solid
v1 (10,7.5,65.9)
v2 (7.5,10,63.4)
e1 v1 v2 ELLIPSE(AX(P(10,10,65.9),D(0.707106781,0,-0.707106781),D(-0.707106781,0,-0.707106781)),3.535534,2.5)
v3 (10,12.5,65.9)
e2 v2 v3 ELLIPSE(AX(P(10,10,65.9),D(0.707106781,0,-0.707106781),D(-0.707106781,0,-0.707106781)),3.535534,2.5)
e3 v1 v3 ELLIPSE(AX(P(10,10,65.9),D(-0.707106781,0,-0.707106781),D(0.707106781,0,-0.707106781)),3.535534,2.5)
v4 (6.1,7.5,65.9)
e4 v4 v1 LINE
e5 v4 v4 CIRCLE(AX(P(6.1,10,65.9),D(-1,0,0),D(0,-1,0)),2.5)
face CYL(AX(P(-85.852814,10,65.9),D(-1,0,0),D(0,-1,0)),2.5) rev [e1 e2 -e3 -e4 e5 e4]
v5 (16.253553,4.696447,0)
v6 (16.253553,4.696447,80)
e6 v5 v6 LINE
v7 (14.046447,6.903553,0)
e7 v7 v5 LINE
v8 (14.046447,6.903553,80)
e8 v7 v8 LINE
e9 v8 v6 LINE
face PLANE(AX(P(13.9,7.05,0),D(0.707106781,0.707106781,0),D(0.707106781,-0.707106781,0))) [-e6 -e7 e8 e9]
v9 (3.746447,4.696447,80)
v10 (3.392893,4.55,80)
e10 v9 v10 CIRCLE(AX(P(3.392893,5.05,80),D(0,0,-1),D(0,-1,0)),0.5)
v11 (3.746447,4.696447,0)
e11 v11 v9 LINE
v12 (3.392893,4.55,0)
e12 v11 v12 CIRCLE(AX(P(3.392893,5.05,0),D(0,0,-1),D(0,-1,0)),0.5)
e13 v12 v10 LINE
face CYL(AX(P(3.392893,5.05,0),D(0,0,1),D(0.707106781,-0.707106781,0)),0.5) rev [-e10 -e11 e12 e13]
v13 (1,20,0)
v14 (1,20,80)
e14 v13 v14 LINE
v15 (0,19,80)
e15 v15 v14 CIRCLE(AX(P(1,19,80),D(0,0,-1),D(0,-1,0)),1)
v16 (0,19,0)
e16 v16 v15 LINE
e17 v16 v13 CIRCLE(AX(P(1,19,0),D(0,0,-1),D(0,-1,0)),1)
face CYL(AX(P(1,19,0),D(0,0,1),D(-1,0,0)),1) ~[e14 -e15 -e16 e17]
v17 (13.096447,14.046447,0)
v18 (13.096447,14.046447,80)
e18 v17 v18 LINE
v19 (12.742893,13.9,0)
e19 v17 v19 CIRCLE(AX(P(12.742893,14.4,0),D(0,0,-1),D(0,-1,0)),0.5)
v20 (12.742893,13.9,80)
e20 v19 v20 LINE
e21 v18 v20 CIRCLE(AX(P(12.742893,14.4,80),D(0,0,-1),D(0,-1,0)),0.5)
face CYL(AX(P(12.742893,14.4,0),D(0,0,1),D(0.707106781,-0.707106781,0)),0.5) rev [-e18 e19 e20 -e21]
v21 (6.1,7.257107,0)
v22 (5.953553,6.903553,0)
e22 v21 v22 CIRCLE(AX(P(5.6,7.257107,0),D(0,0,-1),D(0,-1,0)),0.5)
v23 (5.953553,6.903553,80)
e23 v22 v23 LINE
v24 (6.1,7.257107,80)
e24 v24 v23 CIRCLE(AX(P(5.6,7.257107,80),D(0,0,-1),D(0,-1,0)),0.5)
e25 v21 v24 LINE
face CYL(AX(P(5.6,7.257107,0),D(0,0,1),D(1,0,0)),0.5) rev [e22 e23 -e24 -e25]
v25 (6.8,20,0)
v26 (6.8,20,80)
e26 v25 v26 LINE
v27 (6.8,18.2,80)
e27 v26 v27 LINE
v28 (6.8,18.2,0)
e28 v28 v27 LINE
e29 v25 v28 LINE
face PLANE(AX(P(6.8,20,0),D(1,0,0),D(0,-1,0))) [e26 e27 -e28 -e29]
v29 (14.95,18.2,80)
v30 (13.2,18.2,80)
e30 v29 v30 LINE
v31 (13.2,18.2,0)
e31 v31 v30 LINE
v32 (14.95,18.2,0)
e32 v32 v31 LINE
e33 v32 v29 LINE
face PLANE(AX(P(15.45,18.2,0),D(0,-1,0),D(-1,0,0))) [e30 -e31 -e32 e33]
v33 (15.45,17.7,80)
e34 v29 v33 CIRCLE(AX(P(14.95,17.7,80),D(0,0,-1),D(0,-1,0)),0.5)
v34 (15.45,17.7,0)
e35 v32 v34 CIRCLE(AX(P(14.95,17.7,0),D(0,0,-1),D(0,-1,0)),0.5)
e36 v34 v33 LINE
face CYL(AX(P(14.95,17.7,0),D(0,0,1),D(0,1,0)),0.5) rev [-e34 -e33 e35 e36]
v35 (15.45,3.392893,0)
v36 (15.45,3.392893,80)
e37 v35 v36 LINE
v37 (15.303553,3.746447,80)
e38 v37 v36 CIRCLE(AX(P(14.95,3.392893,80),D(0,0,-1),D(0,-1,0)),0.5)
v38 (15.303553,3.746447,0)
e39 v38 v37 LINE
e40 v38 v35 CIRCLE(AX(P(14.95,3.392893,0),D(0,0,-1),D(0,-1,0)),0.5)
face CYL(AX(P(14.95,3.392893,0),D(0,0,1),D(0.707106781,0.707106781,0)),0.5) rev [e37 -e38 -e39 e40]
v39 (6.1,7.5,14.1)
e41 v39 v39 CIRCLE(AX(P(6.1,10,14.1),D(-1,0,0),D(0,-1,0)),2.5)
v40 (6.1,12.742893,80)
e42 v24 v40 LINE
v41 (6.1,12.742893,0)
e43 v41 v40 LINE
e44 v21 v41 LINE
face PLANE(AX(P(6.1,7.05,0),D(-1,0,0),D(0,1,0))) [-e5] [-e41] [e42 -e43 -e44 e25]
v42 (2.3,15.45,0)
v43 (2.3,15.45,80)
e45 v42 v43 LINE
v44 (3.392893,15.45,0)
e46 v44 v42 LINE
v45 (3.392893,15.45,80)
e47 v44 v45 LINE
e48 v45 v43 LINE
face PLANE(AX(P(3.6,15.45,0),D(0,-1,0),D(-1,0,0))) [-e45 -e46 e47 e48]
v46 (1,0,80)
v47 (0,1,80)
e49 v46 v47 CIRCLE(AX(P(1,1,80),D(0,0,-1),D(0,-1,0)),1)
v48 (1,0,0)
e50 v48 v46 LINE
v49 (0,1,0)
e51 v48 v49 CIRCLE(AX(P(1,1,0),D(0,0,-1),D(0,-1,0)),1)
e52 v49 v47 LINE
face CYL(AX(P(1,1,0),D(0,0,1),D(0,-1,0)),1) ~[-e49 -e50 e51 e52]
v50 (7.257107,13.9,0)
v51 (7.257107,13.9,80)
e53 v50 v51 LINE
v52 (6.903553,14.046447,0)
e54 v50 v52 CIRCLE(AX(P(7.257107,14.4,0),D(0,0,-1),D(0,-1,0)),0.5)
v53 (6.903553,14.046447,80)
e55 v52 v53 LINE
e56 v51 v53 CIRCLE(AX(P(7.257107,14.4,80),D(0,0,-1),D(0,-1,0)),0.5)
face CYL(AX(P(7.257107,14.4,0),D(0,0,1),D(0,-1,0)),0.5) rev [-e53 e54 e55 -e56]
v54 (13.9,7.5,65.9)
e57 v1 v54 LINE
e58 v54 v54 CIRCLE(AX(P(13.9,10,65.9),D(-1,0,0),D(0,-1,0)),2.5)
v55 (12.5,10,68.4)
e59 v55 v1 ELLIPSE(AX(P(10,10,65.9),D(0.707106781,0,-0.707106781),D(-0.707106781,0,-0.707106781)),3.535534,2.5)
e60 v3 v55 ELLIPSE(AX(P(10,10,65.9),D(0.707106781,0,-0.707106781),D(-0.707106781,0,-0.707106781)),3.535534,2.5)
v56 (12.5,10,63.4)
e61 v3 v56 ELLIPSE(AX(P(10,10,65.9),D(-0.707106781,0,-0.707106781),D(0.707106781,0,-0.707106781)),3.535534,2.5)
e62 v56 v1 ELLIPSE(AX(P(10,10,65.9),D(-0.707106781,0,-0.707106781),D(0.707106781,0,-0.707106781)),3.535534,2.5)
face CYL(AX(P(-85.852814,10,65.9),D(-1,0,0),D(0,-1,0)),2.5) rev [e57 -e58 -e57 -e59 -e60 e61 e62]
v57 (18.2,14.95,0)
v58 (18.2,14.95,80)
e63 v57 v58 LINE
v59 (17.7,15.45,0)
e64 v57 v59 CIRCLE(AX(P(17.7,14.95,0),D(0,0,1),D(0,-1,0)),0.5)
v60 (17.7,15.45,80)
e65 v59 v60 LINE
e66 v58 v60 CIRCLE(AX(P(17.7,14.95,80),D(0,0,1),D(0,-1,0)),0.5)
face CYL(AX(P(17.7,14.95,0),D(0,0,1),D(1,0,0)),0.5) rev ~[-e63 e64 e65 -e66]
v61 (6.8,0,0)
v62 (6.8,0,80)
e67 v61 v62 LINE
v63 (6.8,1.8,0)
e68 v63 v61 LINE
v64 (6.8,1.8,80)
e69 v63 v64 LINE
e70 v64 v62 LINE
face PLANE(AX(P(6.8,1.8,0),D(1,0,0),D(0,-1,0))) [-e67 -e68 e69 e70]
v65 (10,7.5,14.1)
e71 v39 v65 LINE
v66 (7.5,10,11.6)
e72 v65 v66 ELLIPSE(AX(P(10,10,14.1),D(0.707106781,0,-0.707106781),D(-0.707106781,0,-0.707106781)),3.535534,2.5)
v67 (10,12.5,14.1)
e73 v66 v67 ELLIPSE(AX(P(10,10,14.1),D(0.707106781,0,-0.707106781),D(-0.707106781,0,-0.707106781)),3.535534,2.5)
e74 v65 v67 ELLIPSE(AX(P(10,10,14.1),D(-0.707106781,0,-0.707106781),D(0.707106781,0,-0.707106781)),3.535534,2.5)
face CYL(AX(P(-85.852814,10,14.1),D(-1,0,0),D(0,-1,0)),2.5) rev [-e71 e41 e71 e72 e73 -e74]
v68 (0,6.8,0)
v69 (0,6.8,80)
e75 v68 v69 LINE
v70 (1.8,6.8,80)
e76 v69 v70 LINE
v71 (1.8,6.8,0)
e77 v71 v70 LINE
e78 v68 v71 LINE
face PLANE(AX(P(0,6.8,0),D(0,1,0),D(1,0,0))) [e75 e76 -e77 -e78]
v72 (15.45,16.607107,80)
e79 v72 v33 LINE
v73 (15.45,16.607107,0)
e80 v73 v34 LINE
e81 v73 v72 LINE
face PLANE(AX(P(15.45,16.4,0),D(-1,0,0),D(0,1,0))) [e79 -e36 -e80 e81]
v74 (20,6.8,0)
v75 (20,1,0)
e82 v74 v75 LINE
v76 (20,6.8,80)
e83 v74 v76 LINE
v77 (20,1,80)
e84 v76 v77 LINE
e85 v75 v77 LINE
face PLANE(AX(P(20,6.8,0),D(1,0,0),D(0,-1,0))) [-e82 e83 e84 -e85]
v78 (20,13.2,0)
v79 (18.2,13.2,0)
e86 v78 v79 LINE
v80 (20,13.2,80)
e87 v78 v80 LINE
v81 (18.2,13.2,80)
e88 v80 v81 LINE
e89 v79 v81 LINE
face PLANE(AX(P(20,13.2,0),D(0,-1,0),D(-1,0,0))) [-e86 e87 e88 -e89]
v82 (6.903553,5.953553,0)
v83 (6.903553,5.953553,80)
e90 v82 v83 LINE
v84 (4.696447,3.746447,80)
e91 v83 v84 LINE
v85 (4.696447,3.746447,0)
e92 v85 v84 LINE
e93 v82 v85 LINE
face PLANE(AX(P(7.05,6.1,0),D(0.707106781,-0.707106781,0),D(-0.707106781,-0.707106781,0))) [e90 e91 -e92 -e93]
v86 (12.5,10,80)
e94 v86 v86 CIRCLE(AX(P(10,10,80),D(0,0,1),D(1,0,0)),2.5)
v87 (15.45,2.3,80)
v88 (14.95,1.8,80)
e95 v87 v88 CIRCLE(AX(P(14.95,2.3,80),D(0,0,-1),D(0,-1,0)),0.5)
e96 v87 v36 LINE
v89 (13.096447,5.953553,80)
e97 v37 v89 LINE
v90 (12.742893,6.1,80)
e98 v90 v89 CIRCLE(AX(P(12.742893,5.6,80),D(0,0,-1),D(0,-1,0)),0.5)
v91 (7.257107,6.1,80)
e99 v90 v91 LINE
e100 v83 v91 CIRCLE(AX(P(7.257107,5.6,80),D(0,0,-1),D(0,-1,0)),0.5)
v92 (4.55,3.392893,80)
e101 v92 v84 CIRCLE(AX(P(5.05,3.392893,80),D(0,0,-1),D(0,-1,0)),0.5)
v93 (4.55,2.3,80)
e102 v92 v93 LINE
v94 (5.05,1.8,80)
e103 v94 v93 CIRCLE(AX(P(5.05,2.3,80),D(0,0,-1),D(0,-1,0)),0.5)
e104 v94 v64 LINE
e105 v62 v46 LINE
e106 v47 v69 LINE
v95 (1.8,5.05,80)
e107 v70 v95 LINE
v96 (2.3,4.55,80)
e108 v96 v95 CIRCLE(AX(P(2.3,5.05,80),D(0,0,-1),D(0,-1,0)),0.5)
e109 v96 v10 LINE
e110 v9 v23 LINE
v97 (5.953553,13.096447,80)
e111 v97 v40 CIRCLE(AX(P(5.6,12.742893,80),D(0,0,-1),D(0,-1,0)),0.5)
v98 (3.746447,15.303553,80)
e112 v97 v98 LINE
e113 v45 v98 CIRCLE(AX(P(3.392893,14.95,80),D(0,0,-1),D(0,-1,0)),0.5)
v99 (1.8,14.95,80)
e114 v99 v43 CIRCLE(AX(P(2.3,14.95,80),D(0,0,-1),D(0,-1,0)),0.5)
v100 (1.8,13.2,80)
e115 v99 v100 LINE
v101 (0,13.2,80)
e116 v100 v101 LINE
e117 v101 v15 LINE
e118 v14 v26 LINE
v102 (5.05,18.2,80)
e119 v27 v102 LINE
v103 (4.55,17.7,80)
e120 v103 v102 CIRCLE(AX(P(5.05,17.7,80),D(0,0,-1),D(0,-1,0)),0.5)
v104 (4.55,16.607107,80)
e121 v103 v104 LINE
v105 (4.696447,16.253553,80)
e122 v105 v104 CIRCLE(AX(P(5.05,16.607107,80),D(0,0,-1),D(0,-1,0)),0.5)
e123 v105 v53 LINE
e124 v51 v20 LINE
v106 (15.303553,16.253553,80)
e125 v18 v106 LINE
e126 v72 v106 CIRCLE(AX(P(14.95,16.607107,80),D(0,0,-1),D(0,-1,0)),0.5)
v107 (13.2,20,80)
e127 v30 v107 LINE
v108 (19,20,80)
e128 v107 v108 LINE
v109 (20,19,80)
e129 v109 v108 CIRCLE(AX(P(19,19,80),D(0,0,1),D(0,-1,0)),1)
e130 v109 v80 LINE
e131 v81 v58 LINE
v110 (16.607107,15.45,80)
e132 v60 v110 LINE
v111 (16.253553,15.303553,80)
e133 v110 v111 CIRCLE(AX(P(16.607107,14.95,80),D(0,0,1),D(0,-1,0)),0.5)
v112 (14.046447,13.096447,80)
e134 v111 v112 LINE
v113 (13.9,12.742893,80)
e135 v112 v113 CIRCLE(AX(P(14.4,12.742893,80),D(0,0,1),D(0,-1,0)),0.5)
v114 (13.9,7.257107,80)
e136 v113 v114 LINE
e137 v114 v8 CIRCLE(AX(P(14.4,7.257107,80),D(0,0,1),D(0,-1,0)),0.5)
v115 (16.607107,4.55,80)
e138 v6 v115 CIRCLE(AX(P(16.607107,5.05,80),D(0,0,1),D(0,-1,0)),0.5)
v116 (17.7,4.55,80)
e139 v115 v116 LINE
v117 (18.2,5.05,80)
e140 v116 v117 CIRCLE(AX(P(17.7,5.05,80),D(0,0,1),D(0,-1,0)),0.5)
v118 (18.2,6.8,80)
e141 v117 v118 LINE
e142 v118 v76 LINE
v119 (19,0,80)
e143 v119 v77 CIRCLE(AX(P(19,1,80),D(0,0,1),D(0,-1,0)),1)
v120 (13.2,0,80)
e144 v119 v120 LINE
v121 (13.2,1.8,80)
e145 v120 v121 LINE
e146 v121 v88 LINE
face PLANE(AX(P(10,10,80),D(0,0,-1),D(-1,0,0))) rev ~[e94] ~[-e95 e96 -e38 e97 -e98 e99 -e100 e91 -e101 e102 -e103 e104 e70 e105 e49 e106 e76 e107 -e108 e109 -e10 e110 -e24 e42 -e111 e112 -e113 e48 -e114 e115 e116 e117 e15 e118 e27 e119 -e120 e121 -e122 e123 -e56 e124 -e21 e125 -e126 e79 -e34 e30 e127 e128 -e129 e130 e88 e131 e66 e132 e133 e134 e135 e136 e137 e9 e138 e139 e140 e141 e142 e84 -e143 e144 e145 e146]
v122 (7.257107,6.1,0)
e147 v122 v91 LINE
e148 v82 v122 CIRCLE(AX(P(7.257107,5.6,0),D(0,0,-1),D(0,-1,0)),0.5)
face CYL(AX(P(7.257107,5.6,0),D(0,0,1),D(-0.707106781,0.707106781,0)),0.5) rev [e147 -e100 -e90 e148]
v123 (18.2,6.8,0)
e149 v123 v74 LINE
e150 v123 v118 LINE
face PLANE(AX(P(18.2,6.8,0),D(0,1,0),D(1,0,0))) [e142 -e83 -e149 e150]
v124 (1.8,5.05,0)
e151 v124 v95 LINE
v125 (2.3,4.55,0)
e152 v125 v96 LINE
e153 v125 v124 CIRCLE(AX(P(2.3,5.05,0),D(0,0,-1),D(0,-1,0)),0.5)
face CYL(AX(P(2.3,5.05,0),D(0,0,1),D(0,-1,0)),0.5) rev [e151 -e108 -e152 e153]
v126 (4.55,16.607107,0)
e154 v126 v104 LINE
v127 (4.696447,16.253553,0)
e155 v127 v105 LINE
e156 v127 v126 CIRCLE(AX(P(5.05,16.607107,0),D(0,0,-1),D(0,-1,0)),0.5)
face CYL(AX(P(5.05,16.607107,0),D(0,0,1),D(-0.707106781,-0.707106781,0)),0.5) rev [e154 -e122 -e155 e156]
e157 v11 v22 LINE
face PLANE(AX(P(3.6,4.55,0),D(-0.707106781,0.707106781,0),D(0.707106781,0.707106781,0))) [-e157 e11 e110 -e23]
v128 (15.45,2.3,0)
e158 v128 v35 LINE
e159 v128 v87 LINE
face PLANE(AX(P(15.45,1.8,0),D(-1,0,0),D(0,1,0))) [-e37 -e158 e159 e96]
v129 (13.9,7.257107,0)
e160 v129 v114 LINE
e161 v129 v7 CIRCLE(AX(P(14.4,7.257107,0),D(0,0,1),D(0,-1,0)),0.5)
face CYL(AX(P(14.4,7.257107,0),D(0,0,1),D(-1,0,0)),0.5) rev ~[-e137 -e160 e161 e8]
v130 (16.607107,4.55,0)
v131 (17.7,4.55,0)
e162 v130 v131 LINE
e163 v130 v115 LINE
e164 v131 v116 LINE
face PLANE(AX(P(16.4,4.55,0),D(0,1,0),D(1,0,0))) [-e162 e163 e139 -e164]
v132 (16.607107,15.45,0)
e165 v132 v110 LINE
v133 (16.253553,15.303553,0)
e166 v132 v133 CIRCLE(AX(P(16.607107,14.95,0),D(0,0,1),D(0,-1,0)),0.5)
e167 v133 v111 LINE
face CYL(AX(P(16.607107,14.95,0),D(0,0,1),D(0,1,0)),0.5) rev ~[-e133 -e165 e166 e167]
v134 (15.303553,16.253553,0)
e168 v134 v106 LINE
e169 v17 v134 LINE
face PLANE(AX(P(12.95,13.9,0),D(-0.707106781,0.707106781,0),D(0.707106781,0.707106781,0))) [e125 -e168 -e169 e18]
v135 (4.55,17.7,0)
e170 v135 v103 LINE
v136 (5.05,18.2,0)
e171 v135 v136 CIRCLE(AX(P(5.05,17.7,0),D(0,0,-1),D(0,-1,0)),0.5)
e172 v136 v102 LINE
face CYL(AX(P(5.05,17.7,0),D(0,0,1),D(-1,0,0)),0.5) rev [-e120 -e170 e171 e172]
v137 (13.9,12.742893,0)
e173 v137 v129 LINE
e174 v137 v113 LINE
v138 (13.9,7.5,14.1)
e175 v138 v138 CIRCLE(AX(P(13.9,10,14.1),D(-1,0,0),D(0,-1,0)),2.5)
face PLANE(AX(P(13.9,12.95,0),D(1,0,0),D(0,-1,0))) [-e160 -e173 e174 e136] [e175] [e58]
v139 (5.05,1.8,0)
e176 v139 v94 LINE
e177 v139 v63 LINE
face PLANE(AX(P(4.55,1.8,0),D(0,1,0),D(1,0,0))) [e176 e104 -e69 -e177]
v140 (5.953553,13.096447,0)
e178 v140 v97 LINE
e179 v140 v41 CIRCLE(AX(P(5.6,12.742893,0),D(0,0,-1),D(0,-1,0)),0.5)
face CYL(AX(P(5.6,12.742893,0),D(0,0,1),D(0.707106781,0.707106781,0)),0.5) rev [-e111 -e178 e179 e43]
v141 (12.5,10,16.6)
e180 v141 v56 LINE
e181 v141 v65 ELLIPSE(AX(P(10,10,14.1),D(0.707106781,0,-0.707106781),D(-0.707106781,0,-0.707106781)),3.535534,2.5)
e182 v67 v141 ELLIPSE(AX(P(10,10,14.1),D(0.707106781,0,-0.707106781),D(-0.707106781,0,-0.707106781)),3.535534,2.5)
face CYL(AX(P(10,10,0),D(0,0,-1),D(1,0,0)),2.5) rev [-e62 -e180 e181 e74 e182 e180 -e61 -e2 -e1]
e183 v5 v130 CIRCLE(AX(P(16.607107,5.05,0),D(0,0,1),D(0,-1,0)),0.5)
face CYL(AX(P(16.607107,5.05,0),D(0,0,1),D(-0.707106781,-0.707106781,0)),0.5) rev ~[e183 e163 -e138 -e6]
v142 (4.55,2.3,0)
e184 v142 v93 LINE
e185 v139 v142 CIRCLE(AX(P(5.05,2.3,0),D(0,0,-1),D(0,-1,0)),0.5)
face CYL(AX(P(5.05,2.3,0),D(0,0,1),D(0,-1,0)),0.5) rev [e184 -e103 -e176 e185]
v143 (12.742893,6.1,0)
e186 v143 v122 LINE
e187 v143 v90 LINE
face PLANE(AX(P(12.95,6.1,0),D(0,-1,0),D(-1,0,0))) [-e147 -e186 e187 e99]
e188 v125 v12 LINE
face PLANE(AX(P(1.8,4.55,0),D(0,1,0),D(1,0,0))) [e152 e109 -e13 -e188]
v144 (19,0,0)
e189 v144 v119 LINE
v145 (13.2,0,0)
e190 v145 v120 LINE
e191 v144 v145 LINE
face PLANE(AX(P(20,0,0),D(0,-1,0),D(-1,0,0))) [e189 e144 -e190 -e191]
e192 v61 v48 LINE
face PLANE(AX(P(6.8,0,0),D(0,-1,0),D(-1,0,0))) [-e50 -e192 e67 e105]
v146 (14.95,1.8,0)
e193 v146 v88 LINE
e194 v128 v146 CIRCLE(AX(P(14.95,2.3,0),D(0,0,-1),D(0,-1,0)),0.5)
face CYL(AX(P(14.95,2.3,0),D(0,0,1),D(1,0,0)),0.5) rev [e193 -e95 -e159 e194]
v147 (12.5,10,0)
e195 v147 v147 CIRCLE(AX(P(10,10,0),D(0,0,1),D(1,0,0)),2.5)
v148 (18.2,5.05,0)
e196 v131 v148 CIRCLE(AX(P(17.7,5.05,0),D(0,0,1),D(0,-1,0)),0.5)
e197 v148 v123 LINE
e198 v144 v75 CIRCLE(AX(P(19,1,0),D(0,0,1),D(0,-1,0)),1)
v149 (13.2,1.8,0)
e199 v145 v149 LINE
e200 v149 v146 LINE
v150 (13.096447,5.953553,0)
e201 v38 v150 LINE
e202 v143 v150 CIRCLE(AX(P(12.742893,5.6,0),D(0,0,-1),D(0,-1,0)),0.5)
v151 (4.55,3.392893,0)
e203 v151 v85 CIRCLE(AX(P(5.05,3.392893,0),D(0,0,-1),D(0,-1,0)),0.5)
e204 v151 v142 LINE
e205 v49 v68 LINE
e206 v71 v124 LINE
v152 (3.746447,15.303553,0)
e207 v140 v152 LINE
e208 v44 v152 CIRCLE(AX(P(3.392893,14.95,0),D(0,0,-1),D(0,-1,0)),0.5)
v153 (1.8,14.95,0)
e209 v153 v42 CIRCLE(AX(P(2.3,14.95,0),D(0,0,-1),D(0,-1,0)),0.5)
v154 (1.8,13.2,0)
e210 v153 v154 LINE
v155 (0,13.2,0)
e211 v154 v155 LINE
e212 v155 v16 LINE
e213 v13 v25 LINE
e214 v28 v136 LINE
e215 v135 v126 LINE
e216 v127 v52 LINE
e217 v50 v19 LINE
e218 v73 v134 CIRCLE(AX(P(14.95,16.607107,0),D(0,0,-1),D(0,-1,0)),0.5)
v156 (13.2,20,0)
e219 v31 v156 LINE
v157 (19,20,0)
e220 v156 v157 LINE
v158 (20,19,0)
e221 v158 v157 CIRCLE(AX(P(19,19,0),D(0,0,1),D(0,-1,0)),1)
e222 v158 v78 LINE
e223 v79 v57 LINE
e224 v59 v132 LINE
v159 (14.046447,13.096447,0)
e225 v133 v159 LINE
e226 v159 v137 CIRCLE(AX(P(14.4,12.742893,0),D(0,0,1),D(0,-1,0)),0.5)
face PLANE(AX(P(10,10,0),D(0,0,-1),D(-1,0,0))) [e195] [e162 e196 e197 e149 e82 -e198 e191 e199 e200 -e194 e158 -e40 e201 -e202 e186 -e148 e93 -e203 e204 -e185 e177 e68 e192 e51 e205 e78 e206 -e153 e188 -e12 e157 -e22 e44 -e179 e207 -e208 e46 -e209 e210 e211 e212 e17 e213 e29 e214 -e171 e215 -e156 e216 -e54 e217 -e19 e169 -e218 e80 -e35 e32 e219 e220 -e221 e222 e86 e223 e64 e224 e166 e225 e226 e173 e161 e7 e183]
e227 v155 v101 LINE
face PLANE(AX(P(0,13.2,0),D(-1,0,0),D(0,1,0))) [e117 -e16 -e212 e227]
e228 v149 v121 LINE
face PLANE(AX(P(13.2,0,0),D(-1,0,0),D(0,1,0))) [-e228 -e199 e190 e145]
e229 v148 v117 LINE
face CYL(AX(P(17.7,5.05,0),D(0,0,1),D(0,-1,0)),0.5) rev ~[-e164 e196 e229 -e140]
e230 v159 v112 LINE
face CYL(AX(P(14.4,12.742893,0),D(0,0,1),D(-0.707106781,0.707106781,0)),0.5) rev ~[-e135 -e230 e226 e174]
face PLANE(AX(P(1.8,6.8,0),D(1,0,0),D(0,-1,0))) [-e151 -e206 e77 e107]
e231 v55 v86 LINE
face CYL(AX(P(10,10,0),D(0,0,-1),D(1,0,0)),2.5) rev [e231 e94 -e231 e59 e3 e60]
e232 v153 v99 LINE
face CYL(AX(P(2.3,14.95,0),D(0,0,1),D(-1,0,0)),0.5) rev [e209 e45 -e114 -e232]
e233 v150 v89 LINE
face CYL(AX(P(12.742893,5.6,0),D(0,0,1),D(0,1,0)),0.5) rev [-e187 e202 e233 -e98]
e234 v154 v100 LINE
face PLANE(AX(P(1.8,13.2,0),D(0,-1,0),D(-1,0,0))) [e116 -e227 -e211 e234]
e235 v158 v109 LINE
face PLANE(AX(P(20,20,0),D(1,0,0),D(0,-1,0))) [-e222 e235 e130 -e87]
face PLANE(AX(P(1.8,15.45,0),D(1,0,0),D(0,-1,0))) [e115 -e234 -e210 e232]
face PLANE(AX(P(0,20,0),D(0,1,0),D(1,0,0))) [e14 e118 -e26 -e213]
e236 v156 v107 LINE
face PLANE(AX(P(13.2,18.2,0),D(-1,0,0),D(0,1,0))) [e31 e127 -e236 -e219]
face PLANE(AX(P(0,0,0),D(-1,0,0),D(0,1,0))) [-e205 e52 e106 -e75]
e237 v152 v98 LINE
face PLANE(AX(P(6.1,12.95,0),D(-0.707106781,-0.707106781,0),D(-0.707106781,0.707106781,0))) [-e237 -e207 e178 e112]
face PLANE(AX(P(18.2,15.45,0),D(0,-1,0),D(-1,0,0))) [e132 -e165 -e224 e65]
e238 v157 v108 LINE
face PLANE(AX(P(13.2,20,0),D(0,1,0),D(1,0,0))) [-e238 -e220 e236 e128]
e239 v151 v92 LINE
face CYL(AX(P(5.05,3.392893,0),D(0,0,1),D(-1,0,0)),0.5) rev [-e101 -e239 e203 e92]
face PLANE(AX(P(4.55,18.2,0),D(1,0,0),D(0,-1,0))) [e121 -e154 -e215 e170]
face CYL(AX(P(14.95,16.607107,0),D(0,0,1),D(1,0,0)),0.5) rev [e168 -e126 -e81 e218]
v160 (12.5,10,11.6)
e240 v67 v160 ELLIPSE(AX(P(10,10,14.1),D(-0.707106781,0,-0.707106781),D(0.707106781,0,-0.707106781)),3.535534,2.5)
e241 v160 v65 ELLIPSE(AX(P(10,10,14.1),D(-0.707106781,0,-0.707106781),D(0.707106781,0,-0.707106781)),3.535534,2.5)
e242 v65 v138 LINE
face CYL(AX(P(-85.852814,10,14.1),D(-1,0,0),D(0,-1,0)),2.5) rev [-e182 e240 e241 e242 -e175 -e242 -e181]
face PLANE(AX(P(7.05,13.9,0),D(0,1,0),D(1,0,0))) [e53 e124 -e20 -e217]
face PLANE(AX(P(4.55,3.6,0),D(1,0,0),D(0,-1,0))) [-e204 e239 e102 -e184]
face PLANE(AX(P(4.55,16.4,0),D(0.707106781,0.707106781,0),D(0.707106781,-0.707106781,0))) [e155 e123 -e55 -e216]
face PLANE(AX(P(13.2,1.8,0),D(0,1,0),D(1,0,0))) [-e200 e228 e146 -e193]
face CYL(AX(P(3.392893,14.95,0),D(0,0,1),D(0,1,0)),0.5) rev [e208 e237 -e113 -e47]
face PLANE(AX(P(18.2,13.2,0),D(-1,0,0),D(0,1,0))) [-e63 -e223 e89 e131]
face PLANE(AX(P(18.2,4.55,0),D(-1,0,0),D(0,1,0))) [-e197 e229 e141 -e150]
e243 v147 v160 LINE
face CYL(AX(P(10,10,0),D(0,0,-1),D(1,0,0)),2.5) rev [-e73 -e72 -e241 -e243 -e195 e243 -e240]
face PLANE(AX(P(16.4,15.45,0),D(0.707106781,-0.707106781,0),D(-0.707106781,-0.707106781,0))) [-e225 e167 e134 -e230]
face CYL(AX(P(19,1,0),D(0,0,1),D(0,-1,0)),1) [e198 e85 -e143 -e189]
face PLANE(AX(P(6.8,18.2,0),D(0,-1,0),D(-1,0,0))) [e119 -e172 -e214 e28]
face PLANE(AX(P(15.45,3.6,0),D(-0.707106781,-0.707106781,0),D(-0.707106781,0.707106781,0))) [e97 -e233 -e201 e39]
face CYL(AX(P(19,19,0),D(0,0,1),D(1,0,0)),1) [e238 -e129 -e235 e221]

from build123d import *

# Parameters (mm, degrees)
SKETCH1_R               = 2.5
BOSS_EXTRUDE1_DEPTH     = 80
FILLET1_R               = 1
FILLET2_R               = 0.5
FILLET3_R               = 0.5
FILLET4_R               = 0.5
FILLET5_R               = 0.5
CUT_EXTRUDE1_DEPTH      = 85.852813742
CUT_EXTRUDE1_DEPTH_BACK = 85.852813742
SKETCH2_R               = 2.5


with BuildPart() as part:
    # Sketch1 → Boss-Extrude1 (new body)
    with BuildSketch(Plane.XY):
        Polygon((13.2, 0), (13.2, 1.8), (15.45, 1.8), (15.45, 3.6), (12.95, 6.1), (7.05, 6.1), (4.55, 3.6), (4.55, 1.8), (6.8, 1.8), (6.8, 0), (0, 0), (0, 6.8), (1.8, 6.8), (1.8, 4.55), (3.6, 4.55), (6.1, 7.05), (6.1, 12.95), (3.6, 15.45), (1.8, 15.45), (1.8, 13.2), (0, 13.2), (0, 20), (6.8, 20), (6.8, 18.2), (4.55, 18.2), (4.55, 16.4), (7.05, 13.9), (12.95, 13.9), (15.45, 16.4), (15.45, 18.2), (13.2, 18.2), (13.2, 20), (20, 20), (20, 13.2), (18.2, 13.2), (18.2, 15.45), (16.4, 15.45), (13.9, 12.95), (13.9, 7.05), (16.4, 4.55), (18.2, 4.55), (18.2, 6.8), (20, 6.8), (20, 0), align=None)
        with Locations((10, 10)):
            Circle(SKETCH1_R, mode=Mode.SUBTRACT)
    extrude(amount=BOSS_EXTRUDE1_DEPTH)

    # Fillet1
    fillet1_edges = [part.edges().sort_by_distance(p)[0] for p in [
        (0, 0, 40),
        (0, 20, 40),
        (20, 20, 40),
        (20, 0, 40),
    ]]
    fillet(fillet1_edges, radius=FILLET1_R)

    # Fillet2
    fillet2_edges = [part.edges().sort_by_distance(p)[0] for p in [
        (4.55, 18.2, 40),
        (4.55, 16.4, 40),
        (7.05, 13.9, 40),
        (12.95, 13.9, 40),
        (15.45, 16.4, 40),
        (15.45, 18.2, 40),
    ]]
    fillet(fillet2_edges, radius=FILLET2_R)

    # Fillet3
    fillet3_edges = [part.edges().sort_by_distance(p)[0] for p in [
        (18.2, 15.45, 40),
        (16.4, 15.45, 40),
        (13.9, 12.95, 40),
        (13.9, 7.05, 40),
        (16.4, 4.55, 40),
        (18.2, 4.55, 40),
    ]]
    fillet(fillet3_edges, radius=FILLET3_R)

    # Fillet4
    fillet4_edges = [part.edges().sort_by_distance(p)[0] for p in [
        (1.8, 4.55, 40),
        (3.6, 4.55, 40),
        (6.1, 7.05, 40),
        (6.1, 12.95, 40),
        (3.6, 15.45, 40),
        (1.8, 15.45, 40),
    ]]
    fillet(fillet4_edges, radius=FILLET4_R)

    # Fillet5
    fillet5_edges = [part.edges().sort_by_distance(p)[0] for p in [
        (15.45, 1.8, 40),
        (15.45, 3.6, 40),
        (12.95, 6.1, 40),
        (7.05, 6.1, 40),
        (4.55, 3.6, 40),
        (4.55, 1.8, 40),
    ]]
    fillet(fillet5_edges, radius=FILLET5_R)

    # Sketch2 → Cut-Extrude1 (cut, two sides: drawn at the far end of the back side and taken through both)
    with BuildSketch(Plane(origin=(0, 0, 0), x_dir=(0, 0, -1), z_dir=(1, 0, 0)).offset(-CUT_EXTRUDE1_DEPTH_BACK)):
        with Locations(Location((-65.9, 10, 0), (0, 0, 270))):
            Circle(SKETCH2_R)
        with Locations(Location((-14.1, 10, 0), (0, 0, 270))):
            Circle(SKETCH2_R)
    extrude(amount=CUT_EXTRUDE1_DEPTH + CUT_EXTRUDE1_DEPTH_BACK, mode=Mode.SUBTRACT)


solid = part.part
